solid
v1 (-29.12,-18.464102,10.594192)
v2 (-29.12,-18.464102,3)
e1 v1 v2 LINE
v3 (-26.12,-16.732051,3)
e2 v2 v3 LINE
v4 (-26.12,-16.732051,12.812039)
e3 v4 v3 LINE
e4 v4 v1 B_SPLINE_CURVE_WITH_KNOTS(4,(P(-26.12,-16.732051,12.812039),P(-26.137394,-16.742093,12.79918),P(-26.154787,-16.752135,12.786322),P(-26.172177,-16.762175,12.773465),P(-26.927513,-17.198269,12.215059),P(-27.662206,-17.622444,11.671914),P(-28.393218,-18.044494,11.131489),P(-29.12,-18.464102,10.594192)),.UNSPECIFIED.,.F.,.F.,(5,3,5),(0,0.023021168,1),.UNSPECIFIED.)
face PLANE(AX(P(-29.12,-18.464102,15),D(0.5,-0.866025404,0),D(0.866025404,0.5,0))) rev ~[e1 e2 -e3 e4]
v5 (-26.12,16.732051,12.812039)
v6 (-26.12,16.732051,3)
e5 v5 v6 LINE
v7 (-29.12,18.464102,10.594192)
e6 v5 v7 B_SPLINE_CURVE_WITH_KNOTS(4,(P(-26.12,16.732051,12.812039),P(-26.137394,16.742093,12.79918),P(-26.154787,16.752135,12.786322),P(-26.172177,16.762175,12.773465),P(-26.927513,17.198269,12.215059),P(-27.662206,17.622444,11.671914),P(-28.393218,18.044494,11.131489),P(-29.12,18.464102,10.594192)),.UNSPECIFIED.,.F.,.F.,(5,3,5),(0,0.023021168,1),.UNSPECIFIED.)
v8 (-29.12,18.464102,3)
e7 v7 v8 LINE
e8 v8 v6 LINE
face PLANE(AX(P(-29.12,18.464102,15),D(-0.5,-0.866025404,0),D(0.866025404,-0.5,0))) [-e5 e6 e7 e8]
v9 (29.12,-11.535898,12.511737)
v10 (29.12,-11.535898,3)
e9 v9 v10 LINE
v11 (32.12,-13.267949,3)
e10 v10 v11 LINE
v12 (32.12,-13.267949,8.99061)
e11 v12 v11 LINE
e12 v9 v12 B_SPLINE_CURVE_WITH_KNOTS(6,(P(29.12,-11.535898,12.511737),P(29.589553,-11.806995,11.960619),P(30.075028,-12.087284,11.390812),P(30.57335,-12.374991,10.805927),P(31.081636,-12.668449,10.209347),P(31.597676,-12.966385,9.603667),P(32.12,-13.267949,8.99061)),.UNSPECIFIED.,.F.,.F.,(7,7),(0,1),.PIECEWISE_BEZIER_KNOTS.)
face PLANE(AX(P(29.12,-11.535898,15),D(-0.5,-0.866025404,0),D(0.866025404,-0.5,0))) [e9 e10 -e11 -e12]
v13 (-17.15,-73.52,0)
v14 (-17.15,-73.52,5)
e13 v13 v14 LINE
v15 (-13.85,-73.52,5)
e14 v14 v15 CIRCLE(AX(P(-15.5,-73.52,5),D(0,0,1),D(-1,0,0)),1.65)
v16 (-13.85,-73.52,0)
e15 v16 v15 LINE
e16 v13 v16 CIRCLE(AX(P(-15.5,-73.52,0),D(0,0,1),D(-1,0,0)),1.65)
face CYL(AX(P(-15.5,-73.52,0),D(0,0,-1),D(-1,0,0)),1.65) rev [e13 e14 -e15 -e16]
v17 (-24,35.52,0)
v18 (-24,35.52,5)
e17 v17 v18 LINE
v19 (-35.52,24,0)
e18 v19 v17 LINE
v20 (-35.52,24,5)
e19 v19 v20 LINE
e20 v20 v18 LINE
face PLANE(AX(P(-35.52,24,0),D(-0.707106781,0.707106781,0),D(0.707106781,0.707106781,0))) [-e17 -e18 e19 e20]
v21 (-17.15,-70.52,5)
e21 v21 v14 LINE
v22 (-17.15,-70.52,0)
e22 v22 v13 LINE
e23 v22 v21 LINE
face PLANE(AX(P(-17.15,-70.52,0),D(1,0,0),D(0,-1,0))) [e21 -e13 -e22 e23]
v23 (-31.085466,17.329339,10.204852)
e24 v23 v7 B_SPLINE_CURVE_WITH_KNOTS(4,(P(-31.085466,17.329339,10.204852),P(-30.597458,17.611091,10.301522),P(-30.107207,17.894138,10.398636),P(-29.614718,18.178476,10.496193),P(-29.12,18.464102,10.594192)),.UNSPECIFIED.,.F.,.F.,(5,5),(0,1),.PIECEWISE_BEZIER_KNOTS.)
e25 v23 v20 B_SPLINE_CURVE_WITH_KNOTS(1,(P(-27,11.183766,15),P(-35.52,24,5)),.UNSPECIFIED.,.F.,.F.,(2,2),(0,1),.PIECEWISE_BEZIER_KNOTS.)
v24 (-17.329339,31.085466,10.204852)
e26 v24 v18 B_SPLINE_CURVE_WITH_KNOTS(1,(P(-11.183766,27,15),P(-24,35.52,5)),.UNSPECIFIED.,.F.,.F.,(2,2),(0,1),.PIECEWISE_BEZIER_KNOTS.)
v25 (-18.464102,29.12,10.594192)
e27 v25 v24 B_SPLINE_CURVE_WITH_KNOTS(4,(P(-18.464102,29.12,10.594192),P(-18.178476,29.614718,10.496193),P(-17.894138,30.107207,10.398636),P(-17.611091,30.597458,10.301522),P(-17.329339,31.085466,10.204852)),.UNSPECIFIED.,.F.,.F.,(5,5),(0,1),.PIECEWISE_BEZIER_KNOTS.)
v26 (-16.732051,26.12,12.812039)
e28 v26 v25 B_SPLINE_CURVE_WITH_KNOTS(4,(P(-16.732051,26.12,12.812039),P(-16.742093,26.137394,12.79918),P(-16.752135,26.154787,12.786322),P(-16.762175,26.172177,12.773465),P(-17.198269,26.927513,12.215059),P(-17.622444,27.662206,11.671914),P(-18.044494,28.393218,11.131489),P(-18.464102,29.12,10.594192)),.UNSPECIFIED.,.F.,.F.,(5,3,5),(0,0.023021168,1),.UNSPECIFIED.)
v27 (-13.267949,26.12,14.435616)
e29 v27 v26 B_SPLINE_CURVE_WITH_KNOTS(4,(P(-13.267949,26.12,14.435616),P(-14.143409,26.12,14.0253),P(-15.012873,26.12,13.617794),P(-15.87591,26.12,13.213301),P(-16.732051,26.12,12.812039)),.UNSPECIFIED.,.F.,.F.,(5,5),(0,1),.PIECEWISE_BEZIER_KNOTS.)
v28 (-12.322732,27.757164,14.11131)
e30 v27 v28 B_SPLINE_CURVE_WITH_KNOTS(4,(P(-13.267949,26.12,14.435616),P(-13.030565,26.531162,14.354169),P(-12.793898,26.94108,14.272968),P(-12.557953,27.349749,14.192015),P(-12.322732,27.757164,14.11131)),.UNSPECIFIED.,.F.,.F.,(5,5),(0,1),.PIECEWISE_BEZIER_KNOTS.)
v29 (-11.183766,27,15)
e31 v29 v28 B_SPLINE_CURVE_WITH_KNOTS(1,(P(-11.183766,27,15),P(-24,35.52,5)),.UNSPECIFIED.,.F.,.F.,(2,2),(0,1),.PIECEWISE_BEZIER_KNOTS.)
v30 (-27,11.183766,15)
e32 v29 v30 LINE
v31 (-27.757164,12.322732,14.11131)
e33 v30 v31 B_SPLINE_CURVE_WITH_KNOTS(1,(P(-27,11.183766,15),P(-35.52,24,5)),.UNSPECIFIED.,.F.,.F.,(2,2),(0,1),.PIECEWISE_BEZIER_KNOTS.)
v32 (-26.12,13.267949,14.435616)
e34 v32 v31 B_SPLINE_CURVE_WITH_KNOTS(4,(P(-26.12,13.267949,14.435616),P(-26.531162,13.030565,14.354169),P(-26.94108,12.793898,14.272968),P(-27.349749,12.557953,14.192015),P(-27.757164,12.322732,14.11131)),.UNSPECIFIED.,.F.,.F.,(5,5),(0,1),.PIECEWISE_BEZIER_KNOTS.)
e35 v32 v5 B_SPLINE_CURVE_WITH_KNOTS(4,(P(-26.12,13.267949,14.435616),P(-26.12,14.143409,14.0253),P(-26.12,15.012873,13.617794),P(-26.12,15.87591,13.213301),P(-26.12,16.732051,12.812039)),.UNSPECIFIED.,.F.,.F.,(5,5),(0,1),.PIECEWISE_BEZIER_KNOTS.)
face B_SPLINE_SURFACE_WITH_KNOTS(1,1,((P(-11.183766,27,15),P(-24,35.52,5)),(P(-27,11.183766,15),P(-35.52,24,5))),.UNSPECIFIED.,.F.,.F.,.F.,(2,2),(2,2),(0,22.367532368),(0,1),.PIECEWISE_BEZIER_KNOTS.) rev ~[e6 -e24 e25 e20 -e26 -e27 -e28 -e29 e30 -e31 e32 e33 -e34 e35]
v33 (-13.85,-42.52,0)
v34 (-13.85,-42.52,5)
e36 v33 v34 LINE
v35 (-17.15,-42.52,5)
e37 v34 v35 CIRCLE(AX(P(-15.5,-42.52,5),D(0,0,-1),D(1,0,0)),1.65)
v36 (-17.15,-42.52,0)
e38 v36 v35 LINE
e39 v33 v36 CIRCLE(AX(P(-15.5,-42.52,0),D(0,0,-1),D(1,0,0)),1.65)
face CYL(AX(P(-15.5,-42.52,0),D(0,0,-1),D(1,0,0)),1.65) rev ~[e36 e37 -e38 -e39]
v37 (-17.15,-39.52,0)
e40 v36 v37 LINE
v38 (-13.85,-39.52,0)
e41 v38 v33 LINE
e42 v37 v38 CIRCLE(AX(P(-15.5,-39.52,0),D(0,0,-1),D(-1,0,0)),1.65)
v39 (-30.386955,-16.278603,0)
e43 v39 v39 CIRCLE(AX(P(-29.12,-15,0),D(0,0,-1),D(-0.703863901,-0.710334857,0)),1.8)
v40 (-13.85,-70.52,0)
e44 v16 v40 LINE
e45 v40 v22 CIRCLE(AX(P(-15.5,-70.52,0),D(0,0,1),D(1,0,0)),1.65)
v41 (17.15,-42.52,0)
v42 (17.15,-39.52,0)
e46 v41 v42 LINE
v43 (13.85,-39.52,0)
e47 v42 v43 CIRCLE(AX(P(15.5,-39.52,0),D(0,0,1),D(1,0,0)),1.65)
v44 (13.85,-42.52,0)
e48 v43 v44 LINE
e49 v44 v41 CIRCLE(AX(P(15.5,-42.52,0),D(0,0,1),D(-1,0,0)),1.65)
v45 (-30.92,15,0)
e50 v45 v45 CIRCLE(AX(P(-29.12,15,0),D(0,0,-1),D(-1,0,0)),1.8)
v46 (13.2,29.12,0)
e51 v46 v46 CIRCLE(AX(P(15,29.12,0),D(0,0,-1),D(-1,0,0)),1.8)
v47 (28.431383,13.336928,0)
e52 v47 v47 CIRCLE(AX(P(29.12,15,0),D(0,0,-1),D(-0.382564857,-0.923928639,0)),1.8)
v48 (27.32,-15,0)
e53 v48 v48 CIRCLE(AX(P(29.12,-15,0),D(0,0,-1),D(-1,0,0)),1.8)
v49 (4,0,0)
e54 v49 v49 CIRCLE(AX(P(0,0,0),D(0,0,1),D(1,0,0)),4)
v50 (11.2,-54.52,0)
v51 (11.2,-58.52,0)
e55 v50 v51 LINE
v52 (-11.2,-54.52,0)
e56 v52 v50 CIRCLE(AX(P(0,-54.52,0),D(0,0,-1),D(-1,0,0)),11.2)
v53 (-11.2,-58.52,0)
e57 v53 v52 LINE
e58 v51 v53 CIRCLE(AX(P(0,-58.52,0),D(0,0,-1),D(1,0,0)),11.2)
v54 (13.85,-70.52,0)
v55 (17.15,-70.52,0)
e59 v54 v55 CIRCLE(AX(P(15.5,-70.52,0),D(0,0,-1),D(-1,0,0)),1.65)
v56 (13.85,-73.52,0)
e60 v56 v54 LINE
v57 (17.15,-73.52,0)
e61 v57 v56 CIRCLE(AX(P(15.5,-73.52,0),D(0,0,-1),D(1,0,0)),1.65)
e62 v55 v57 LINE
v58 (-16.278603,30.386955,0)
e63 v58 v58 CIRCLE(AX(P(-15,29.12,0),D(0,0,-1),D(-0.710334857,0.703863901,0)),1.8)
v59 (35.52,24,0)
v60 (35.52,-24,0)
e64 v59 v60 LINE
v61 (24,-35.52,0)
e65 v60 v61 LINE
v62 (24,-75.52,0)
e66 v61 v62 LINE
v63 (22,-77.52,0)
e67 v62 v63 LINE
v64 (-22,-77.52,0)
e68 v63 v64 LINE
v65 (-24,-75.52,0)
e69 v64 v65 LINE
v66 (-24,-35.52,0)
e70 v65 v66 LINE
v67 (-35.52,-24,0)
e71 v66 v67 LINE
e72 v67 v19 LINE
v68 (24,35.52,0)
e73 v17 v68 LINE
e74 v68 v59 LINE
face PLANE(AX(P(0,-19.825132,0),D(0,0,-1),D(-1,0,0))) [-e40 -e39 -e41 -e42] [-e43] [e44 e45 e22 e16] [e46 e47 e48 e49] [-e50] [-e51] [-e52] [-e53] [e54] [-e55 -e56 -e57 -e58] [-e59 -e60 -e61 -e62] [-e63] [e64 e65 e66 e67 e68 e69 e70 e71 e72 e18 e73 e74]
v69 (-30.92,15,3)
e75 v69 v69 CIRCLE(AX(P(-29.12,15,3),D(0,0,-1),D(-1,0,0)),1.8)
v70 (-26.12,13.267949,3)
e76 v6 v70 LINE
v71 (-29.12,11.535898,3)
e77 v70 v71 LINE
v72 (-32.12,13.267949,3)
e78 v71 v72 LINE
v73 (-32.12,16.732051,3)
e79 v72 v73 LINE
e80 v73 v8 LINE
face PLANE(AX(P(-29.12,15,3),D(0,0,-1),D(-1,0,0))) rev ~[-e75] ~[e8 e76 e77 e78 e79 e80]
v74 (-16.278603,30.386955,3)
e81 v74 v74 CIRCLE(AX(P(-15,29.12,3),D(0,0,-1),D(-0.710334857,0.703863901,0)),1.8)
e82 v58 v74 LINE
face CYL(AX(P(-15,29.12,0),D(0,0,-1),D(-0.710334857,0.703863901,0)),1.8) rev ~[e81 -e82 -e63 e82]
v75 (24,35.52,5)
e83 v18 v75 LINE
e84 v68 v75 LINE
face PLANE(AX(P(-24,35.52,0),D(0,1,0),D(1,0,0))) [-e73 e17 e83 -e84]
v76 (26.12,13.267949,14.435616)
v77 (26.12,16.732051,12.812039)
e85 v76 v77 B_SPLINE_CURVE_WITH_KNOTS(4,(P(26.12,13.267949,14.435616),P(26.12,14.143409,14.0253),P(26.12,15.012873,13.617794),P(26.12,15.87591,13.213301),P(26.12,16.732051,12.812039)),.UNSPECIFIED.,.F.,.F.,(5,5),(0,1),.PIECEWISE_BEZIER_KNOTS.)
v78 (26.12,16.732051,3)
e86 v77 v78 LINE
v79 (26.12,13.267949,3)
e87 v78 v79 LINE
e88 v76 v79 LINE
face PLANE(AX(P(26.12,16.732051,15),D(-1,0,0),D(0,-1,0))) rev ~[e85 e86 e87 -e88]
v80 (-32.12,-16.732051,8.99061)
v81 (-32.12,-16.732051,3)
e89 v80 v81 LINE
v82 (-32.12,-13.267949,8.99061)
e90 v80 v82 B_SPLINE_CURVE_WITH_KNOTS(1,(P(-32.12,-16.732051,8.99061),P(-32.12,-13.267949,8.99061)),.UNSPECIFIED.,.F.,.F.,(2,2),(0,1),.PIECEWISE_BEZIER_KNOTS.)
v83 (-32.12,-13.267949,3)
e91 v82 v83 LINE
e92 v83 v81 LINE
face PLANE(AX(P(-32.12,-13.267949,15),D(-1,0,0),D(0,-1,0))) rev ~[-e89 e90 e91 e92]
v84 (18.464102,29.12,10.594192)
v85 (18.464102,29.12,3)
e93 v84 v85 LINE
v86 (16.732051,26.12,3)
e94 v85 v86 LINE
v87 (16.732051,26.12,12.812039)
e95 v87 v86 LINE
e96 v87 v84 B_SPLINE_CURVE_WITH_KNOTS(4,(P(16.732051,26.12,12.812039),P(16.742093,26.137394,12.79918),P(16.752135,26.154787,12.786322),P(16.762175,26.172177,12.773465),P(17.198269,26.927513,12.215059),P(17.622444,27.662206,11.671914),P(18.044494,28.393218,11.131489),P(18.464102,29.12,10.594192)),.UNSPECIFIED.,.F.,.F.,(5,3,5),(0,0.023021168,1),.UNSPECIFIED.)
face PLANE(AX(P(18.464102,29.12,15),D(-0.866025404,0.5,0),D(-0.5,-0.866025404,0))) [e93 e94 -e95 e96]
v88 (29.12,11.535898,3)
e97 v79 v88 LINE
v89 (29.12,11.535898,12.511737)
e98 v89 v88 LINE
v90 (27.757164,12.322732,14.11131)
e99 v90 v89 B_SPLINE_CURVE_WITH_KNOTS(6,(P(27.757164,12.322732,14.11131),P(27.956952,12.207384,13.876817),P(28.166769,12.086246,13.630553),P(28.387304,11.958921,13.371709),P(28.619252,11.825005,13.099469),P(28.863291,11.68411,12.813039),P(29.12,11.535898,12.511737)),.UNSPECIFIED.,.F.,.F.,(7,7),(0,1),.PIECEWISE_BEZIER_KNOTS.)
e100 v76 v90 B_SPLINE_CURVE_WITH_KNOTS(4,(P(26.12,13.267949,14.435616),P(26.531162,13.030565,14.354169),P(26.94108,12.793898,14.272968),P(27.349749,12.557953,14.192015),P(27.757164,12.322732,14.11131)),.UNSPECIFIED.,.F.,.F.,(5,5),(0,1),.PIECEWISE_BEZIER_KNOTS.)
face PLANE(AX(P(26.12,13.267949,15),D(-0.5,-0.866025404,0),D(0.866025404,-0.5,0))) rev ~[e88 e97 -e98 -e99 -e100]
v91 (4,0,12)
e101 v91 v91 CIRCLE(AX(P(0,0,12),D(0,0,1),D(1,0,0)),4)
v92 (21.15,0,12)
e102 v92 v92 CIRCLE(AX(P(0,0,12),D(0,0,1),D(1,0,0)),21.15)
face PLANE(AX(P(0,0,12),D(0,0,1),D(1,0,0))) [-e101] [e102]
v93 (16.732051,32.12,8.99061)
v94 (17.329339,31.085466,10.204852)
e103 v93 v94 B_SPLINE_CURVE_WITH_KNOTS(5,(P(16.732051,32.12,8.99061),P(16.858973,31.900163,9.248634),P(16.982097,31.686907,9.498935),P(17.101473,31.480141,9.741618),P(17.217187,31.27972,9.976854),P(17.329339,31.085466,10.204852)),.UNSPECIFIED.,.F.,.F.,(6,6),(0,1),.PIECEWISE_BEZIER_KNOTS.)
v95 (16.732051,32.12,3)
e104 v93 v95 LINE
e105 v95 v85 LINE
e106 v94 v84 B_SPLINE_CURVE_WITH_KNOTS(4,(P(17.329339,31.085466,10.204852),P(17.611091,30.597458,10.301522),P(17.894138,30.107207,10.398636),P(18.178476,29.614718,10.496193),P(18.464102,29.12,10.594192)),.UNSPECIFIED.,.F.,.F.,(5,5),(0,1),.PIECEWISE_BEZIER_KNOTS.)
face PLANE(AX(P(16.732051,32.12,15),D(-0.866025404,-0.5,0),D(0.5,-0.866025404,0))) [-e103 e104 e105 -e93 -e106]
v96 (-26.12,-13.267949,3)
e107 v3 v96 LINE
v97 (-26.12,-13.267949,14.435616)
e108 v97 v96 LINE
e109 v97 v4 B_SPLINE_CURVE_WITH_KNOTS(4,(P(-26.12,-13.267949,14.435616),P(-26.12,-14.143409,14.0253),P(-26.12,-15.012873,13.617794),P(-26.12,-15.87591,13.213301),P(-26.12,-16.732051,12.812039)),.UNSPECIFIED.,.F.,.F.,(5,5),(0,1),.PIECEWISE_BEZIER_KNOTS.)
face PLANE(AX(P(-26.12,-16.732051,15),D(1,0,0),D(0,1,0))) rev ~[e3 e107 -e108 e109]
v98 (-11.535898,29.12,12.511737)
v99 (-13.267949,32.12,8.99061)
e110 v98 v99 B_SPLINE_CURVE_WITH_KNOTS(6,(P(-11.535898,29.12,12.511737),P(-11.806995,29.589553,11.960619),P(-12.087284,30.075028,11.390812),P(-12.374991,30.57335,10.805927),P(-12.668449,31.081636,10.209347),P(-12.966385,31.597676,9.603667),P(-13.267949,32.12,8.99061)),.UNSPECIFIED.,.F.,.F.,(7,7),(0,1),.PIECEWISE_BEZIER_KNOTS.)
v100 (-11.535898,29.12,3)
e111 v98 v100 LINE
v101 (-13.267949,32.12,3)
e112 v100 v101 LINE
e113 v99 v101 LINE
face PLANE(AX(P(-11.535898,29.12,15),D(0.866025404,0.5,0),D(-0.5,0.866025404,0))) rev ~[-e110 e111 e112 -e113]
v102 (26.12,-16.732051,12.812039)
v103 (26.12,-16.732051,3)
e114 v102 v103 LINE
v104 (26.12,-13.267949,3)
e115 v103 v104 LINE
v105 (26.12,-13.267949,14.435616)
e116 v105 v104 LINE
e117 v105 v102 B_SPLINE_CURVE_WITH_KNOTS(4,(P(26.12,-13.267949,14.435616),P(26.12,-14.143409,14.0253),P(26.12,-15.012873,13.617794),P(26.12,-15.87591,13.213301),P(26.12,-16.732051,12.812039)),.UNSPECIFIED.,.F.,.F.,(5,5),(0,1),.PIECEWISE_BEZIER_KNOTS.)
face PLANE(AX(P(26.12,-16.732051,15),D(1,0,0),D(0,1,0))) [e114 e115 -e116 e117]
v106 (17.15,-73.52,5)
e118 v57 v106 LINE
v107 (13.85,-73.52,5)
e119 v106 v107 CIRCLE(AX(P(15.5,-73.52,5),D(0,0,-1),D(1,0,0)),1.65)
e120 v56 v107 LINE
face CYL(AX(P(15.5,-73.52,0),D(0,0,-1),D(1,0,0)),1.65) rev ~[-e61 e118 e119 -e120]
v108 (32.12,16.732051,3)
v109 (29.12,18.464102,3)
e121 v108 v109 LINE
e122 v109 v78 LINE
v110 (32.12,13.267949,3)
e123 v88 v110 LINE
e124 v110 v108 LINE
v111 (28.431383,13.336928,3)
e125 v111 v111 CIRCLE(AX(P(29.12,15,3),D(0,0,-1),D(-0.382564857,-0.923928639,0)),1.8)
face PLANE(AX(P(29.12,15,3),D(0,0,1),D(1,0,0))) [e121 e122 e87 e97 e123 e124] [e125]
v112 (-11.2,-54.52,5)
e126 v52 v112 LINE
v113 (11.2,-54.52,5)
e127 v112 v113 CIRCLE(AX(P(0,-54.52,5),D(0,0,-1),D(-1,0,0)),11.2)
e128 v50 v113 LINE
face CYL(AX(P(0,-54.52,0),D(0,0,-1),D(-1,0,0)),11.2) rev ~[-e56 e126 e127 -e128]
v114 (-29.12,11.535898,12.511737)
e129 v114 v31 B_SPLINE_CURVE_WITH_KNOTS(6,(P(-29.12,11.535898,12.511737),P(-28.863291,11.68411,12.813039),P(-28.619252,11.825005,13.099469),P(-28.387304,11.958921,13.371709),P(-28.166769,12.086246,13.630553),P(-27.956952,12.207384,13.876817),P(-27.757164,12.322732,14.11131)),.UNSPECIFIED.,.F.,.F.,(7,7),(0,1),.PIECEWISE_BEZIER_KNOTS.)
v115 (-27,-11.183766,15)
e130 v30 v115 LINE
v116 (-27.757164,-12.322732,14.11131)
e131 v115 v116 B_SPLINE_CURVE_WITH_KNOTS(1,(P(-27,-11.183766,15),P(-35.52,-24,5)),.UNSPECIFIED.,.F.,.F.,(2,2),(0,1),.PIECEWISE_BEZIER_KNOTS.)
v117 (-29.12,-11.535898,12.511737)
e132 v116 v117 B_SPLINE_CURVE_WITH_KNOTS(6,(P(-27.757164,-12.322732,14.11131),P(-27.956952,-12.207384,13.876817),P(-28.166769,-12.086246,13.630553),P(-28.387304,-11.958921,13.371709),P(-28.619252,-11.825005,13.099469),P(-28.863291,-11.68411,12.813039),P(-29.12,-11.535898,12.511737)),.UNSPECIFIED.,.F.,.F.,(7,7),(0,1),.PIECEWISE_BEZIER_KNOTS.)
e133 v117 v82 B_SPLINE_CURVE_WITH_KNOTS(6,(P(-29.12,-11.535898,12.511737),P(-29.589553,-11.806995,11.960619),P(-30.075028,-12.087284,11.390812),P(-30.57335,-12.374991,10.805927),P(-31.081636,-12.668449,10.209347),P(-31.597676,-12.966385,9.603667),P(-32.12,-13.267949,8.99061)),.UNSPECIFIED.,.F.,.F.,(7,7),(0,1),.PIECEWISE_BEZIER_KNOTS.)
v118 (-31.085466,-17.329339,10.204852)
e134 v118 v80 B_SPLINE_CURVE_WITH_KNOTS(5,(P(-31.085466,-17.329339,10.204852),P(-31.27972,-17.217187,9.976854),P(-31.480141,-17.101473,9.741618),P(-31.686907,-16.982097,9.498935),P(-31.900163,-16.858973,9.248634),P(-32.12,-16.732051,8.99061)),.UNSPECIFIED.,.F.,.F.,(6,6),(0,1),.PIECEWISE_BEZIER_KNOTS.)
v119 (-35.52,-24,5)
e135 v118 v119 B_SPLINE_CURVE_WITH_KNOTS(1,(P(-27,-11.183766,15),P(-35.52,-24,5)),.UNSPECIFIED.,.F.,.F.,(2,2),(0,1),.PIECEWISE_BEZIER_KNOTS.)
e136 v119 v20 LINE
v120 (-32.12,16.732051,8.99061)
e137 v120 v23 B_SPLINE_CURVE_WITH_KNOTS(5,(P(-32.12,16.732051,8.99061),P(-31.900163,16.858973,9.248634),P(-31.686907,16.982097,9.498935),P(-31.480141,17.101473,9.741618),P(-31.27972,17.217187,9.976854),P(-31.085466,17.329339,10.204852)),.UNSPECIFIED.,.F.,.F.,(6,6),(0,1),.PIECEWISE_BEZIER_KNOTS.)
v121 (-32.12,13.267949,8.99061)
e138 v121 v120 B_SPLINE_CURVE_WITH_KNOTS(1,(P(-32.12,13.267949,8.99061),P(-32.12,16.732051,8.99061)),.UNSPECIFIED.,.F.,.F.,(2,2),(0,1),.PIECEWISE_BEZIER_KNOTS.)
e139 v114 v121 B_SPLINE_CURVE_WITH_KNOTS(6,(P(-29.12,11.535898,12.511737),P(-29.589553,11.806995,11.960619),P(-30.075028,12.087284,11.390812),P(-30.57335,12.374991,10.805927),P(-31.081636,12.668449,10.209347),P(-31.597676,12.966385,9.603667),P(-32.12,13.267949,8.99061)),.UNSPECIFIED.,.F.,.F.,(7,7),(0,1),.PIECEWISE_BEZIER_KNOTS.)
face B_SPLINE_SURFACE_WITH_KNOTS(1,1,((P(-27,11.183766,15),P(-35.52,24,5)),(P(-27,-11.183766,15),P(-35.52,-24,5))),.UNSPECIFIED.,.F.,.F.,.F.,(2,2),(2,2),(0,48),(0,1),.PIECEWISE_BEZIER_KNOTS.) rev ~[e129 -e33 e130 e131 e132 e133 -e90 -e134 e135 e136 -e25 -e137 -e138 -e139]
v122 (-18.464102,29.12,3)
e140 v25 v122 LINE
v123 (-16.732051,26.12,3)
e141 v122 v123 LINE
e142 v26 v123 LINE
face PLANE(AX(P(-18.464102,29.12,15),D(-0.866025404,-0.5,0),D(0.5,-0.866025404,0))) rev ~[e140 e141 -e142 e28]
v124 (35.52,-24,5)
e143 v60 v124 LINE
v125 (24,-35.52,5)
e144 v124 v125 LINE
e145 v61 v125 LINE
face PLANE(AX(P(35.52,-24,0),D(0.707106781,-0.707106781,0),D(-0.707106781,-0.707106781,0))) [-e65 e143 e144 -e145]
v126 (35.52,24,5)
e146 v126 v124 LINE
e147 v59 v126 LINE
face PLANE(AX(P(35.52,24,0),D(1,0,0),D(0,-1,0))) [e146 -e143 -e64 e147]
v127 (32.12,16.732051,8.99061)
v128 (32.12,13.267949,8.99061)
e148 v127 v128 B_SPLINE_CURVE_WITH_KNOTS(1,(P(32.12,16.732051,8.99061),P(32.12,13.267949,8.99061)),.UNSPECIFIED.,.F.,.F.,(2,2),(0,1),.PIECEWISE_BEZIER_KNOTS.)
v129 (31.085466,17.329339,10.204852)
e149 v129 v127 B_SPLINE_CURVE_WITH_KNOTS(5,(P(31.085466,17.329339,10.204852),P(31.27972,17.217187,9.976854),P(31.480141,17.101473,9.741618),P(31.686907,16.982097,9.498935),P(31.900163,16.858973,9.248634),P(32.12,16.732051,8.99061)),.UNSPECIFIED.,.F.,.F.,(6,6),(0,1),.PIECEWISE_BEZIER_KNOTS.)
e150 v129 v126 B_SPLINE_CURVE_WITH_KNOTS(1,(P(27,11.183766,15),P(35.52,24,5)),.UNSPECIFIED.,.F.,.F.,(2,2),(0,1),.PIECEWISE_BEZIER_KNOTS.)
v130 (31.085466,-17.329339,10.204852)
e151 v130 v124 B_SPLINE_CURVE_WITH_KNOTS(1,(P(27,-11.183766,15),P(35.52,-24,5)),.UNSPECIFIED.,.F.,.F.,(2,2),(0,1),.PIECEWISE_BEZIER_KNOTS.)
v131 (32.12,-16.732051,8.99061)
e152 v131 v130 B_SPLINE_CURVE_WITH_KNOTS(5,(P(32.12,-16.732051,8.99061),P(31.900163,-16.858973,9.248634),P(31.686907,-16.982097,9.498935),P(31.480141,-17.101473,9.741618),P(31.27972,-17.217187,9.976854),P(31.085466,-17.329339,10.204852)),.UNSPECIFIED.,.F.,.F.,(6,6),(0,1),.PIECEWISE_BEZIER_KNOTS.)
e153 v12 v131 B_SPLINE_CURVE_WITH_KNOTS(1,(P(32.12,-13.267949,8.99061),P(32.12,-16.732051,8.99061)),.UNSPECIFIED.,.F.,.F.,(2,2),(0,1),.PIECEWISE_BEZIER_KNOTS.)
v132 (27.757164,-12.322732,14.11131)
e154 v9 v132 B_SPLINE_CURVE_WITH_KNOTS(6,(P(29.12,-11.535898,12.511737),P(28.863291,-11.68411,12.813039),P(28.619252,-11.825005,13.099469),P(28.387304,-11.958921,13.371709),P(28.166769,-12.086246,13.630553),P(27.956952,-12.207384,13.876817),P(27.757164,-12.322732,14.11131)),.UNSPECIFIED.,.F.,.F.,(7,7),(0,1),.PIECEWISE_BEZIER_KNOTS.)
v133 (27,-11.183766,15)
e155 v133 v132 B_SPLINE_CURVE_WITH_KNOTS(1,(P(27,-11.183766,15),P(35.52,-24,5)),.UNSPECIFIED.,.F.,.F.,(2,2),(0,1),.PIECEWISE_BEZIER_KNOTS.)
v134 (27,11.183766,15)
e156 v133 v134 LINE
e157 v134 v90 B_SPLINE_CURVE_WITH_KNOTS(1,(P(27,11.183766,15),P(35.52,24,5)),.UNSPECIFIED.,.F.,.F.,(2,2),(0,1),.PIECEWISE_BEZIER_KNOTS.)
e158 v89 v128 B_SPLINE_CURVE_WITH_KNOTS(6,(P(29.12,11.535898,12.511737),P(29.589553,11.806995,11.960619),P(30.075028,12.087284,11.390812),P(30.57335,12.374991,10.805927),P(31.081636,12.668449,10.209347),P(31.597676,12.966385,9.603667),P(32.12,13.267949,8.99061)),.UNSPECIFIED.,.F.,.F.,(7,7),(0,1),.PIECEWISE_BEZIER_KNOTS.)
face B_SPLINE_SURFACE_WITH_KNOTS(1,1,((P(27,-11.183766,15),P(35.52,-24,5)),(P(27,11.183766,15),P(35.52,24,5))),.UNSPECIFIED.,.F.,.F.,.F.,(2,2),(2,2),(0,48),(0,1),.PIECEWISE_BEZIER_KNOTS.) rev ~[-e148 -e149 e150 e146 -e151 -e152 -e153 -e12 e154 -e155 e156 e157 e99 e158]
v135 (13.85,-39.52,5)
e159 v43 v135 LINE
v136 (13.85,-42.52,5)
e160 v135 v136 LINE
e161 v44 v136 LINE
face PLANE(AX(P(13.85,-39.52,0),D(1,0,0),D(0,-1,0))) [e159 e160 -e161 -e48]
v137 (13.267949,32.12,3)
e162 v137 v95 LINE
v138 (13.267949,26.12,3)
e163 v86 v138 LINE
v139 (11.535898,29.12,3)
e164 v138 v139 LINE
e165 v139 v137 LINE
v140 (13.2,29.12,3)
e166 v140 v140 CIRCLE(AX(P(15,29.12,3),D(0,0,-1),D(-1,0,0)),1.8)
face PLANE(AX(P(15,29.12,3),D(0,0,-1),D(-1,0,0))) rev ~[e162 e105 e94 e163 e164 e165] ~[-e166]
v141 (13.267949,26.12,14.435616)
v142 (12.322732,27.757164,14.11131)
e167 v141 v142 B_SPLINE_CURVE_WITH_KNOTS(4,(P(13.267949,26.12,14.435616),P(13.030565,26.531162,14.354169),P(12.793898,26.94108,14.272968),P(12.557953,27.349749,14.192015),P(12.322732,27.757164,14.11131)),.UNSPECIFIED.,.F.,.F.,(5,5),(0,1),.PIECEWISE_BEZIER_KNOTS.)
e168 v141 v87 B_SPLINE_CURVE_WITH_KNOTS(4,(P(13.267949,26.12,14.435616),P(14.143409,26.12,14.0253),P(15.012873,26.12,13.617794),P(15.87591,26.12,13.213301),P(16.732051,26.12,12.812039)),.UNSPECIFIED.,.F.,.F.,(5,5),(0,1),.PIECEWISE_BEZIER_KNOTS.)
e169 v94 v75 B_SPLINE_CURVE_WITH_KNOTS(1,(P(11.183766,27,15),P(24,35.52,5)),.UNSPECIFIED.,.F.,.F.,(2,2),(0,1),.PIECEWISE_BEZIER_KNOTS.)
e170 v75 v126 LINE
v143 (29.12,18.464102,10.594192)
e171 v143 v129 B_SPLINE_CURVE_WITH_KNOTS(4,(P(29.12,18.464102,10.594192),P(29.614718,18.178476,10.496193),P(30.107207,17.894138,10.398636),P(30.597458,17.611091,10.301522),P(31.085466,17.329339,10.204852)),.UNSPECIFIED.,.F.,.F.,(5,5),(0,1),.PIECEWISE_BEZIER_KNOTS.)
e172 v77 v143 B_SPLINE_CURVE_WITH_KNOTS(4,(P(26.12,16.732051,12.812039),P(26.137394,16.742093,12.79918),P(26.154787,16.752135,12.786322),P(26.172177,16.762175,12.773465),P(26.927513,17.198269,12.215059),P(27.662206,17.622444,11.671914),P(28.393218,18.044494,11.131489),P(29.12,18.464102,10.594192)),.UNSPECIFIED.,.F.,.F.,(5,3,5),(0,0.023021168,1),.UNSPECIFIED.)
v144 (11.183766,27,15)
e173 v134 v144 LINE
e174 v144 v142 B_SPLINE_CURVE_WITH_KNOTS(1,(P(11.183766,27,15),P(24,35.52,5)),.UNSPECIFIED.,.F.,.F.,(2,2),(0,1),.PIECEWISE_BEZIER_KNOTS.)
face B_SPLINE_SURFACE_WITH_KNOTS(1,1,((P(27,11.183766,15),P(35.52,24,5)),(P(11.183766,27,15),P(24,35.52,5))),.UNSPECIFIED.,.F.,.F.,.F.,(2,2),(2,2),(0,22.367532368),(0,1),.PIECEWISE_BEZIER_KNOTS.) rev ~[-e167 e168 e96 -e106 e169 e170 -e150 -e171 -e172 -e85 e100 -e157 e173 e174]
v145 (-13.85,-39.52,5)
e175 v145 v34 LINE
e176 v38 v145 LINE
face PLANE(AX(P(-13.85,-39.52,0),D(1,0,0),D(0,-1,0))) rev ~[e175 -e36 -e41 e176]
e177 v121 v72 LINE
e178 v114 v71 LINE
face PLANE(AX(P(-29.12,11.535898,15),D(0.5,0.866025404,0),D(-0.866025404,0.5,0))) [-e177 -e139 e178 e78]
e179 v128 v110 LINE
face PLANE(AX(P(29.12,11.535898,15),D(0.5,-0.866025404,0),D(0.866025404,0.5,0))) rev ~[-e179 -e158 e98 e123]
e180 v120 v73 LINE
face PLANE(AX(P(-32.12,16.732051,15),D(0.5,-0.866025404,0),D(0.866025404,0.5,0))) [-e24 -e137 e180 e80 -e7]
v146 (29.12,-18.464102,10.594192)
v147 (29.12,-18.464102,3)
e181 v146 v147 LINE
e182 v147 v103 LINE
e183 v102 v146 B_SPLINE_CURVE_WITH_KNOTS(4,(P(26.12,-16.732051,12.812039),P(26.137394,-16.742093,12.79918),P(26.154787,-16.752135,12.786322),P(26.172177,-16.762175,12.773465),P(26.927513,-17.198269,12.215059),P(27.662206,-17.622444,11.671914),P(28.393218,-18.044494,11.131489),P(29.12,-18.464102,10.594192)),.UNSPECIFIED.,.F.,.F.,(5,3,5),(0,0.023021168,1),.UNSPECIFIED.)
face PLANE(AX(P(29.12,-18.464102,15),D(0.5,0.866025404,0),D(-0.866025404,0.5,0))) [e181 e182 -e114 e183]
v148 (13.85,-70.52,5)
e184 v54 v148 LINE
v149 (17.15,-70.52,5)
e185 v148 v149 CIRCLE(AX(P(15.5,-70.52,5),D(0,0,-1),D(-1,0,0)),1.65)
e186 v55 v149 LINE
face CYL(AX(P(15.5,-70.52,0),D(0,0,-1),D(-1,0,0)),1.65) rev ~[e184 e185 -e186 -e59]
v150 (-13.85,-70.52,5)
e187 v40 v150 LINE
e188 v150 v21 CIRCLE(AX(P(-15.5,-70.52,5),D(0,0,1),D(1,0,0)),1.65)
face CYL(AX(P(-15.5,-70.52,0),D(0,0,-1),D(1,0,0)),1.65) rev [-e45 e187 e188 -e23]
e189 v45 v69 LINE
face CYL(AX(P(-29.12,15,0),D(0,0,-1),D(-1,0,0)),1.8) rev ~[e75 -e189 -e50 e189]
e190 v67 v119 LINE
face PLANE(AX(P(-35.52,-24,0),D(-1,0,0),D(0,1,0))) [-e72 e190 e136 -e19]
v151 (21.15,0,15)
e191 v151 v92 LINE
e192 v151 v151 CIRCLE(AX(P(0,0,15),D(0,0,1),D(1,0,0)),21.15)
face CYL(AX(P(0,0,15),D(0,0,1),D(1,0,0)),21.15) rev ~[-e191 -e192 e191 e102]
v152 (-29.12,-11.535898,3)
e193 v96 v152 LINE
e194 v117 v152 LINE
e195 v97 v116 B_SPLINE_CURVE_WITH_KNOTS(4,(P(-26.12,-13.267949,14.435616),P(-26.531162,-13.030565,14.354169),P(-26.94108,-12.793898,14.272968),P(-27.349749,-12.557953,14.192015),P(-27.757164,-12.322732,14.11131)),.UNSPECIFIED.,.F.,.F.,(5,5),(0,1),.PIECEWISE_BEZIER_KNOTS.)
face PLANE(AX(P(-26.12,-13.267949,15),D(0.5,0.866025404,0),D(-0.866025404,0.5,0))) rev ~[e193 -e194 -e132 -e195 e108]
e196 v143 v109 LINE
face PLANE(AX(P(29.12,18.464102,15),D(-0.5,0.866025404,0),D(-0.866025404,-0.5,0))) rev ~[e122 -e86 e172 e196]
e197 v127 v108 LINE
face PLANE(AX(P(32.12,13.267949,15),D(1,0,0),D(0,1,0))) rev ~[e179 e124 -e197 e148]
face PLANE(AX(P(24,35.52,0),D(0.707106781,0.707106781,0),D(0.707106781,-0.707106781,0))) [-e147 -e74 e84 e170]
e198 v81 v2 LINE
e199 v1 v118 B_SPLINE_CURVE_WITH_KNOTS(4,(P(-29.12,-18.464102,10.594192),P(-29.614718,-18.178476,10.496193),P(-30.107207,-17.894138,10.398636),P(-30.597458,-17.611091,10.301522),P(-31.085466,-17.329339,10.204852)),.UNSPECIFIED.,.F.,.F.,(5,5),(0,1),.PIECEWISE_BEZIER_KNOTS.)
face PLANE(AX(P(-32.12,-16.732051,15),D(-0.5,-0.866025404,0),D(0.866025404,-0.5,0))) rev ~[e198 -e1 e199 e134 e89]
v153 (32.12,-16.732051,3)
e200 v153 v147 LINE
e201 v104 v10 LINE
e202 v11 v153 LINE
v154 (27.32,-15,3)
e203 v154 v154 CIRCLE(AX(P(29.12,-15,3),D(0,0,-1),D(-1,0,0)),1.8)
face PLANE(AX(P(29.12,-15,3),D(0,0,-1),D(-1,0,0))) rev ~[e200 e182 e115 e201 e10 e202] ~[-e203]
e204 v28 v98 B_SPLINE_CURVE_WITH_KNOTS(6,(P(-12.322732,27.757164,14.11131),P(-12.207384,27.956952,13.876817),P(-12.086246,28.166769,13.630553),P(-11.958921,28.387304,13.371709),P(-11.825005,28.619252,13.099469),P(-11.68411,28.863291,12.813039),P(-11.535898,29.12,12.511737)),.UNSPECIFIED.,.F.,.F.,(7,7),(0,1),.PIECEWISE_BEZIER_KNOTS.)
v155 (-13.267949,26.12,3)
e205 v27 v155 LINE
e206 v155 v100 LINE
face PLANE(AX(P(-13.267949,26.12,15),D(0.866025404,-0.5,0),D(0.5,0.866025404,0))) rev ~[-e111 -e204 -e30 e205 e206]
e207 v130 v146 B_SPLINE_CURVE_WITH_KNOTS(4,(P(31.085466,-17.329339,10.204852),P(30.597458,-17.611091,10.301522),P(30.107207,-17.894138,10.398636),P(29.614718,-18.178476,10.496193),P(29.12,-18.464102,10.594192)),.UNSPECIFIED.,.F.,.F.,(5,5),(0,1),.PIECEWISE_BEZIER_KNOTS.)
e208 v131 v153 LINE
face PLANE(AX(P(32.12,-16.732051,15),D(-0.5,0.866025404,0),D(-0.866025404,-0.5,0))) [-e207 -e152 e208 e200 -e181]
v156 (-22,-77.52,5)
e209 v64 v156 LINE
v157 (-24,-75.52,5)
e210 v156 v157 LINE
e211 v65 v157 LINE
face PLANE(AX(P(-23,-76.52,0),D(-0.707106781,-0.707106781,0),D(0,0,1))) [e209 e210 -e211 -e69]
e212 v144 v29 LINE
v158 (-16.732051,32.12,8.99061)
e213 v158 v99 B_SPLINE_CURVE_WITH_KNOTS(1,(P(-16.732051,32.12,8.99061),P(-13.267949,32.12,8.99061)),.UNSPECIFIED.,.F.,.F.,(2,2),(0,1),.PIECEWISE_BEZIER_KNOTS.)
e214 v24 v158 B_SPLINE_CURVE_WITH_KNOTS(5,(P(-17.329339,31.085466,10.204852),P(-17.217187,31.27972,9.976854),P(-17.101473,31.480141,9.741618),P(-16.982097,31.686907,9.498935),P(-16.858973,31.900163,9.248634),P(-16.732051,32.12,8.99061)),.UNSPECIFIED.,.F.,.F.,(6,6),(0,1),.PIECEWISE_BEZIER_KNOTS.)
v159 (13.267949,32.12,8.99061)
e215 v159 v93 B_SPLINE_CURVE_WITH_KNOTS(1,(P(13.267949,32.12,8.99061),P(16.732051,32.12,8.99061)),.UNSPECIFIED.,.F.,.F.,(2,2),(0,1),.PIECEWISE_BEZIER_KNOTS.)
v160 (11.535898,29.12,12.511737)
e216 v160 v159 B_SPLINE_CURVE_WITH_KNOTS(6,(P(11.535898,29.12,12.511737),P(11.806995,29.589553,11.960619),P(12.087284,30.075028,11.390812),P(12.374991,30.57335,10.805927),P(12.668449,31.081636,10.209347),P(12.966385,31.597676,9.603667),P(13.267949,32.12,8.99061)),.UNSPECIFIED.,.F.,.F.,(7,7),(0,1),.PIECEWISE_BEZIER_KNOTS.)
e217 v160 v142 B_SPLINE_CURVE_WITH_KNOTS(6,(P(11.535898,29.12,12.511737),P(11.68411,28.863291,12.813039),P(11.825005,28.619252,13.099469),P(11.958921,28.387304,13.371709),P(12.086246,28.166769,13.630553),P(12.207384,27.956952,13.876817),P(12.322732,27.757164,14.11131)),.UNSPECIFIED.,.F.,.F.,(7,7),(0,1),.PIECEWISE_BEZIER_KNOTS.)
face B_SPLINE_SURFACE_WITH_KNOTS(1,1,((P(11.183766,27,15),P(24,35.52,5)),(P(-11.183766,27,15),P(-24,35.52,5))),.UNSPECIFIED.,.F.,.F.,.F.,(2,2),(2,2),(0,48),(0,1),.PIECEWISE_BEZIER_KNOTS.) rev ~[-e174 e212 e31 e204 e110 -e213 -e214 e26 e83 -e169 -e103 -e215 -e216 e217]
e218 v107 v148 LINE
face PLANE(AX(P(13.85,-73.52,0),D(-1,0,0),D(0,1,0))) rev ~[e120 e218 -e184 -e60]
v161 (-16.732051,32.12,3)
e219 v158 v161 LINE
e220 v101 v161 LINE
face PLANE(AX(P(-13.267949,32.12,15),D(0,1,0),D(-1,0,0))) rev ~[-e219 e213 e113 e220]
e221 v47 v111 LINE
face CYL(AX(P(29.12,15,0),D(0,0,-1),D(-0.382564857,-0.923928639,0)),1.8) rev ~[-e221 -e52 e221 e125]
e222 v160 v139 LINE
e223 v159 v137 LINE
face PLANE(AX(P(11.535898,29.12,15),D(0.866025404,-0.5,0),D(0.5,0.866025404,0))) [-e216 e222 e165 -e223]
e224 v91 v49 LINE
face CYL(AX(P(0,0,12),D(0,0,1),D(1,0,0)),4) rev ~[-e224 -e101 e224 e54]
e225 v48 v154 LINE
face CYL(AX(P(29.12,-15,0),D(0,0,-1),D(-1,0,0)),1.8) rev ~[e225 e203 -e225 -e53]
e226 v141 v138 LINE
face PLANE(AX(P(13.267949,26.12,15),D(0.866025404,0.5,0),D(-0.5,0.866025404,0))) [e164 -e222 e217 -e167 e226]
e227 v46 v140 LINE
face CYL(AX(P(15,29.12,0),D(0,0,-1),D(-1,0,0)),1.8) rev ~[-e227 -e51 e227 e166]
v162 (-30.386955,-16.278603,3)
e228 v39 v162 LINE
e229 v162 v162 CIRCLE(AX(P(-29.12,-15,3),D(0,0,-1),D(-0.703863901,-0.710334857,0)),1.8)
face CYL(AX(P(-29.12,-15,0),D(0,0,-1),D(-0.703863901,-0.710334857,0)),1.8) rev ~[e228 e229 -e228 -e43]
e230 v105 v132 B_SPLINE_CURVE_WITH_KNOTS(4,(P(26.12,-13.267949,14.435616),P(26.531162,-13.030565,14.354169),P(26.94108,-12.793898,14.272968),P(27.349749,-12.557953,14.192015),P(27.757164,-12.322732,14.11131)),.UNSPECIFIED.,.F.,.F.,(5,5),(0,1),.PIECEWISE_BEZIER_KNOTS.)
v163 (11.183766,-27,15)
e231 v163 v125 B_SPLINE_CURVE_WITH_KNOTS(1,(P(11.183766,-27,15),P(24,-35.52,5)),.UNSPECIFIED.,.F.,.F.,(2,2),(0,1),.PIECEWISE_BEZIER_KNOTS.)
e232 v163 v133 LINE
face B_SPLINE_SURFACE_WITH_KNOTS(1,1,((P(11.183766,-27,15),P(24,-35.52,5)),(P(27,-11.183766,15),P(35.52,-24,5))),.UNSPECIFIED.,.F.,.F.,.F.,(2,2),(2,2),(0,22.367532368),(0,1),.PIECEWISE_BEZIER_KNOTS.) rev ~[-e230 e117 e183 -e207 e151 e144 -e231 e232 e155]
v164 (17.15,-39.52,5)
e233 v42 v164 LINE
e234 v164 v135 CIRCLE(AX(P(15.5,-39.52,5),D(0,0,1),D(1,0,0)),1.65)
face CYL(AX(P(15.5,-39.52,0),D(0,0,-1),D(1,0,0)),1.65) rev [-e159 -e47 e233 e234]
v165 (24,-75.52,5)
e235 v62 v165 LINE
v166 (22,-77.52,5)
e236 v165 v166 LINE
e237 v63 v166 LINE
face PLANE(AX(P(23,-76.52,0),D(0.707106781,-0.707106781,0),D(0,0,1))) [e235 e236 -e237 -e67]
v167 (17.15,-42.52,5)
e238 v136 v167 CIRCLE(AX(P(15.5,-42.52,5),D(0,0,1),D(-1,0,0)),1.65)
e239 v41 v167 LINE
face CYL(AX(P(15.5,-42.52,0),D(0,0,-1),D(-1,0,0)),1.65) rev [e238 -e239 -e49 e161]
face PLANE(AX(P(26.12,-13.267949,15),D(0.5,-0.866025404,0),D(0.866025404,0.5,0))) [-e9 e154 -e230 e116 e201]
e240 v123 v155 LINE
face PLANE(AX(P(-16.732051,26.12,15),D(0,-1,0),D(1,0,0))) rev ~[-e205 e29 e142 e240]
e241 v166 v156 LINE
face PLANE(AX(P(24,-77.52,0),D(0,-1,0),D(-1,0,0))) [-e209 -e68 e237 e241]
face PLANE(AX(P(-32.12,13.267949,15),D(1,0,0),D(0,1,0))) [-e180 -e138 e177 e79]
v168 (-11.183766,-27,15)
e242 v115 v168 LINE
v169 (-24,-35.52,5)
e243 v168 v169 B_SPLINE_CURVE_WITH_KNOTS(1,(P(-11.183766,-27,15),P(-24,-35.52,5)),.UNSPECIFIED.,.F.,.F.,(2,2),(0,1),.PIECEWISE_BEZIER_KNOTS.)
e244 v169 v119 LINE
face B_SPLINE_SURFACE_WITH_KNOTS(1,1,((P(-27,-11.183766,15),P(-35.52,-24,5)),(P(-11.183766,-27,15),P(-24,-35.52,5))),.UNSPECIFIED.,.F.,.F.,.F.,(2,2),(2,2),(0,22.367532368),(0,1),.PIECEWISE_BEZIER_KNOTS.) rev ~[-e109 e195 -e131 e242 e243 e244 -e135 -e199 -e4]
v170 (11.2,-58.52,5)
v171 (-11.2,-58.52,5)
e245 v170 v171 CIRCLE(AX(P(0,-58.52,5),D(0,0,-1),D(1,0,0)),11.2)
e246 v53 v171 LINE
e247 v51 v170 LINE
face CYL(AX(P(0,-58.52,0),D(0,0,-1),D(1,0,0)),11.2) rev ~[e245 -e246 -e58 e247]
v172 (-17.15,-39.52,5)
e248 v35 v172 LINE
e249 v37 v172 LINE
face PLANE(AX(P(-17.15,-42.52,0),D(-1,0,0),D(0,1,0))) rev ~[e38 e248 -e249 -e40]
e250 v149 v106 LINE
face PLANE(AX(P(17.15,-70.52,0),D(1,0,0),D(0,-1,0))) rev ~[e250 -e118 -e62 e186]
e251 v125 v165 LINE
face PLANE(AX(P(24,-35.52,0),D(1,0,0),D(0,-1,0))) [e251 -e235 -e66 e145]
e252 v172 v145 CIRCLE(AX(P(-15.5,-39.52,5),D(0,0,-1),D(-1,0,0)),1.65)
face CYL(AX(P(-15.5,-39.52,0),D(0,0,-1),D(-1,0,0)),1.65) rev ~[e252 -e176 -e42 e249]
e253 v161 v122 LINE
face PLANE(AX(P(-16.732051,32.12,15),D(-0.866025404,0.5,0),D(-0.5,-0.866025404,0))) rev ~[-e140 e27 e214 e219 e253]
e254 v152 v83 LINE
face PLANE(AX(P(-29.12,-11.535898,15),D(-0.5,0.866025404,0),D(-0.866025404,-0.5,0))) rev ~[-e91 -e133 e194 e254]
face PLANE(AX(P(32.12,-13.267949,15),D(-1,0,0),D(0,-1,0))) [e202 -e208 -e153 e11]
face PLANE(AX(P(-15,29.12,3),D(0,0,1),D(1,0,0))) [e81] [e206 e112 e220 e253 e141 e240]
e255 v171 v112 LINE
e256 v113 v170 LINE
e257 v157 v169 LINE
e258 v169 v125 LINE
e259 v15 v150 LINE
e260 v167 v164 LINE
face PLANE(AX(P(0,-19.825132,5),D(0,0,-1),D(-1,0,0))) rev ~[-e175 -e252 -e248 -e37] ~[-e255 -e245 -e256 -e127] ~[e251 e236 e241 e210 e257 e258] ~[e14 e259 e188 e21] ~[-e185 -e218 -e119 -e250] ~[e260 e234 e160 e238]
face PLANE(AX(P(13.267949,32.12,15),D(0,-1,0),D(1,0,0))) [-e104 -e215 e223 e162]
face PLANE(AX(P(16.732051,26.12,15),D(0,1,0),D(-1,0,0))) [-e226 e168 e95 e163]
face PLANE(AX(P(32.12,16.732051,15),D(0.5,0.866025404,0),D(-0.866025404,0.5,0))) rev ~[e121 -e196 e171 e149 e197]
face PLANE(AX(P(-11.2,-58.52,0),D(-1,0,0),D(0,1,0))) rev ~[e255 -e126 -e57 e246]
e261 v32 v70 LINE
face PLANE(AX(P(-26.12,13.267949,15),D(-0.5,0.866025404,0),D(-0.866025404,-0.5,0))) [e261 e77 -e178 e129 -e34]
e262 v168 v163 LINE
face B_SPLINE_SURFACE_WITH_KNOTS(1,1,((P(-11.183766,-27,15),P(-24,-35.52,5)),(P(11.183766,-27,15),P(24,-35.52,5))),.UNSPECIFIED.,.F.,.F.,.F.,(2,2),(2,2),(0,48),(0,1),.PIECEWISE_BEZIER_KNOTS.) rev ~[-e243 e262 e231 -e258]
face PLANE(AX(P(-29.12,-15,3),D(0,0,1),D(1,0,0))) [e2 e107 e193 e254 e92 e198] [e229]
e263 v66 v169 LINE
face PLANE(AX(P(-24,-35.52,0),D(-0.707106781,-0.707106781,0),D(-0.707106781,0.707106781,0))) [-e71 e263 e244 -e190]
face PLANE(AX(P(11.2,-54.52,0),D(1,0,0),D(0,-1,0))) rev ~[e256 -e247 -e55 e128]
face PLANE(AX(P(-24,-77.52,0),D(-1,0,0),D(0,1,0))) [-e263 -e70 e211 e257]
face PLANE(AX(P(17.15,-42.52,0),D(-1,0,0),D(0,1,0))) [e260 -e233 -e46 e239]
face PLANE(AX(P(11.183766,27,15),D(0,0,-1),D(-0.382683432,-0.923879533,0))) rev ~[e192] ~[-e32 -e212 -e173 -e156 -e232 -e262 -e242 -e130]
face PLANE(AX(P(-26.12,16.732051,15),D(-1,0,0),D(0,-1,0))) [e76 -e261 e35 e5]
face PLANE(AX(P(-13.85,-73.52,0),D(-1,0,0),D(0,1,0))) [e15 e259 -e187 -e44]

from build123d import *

# Parameters (mm, degrees)
EXTRUDE_1_DEPTH     = 5
SKETCH_5_R          = 21.15
CUT_EXTRUDE_1_DEPTH = 3
SKETCH_6_R          = 4
CUT_EXTRUDE_2_DEPTH = 37
SKETCH_7_R          = 1.8
CUT_EXTRUDE_3_DEPTH = 37
CUT_EXTRUDE_4_DEPTH = 12
CHAMFER_1_SIZE      = 2


with BuildPart() as part:
    # 草图1 → 凸台-拉伸1 (new body)
    with BuildSketch(Plane.XY):
        Polygon((24, 35.52), (35.52, 24), (35.52, -24), (24, -35.52), (24, -77.52), (-24, -77.52), (-24, -35.52), (-35.52, -24), (-35.52, 24), (-24, 35.52), align=None)
        with BuildLine():
            Line((11.2, -54.52), (11.2, -58.52))
            ThreePointArc((11.2, -58.52), (0, -69.72), (-11.2, -58.52))
            Line((-11.2, -58.52), (-11.2, -54.52))
            ThreePointArc((-11.2, -54.52), (0, -43.32), (11.2, -54.52))
        make_face(mode=Mode.SUBTRACT)
        with BuildLine():
            Line((-17.15, -42.52), (-17.15, -39.52))
            ThreePointArc((-17.15, -39.52), (-15.5, -37.87), (-13.85, -39.52))
            Line((-13.85, -39.52), (-13.85, -42.52))
            ThreePointArc((-13.85, -42.52), (-15.5, -44.17), (-17.15, -42.52))
        make_face(mode=Mode.SUBTRACT)
        with BuildLine():
            Line((17.15, -42.52), (17.15, -39.52))
            ThreePointArc((17.15, -39.52), (15.5, -37.87), (13.85, -39.52))
            Line((13.85, -39.52), (13.85, -42.52))
            ThreePointArc((13.85, -42.52), (15.5, -44.17), (17.15, -42.52))
        make_face(mode=Mode.SUBTRACT)
        with BuildLine():
            Line((17.15, -70.52), (17.15, -73.52))
            ThreePointArc((17.15, -73.52), (15.5, -75.17), (13.85, -73.52))
            Line((13.85, -73.52), (13.85, -70.52))
            ThreePointArc((13.85, -70.52), (15.5, -68.87), (17.15, -70.52))
        make_face(mode=Mode.SUBTRACT)
        with BuildLine():
            Line((-17.15, -70.52), (-17.15, -73.52))
            ThreePointArc((-17.15, -73.52), (-15.5, -75.17), (-13.85, -73.52))
            Line((-13.85, -73.52), (-13.85, -70.52))
            ThreePointArc((-13.85, -70.52), (-15.5, -68.87), (-17.15, -70.52))
        make_face(mode=Mode.SUBTRACT)
    extrude(amount=EXTRUDE_1_DEPTH)

    # 草图3 → 放样1 section 0
    with BuildSketch(Plane.XY.offset(15)):
        with BuildLine():
            Line((11.183766184, 27), (-11.183766184, 27))
            Line((-11.183766184, 27), (-27, 11.183766184))
            Line((-27, 11.183766184), (-27, -11.183766184))
            Line((-27, -11.183766184), (-11.183766184, -27))
            Line((-11.183766184, -27), (11.183766184, -27))
            Line((11.183766184, -27), (27, -11.183766184))
            Line((27, -11.183766184), (27, 11.183766184))
            Line((27, 11.183766184), (11.183766184, 27))
        make_face()
    # 草图4 → 放样1 section 1
    with BuildSketch(Plane.XY.offset(5)):
        with BuildLine():
            Line((-24, -35.52), (24, -35.52))
            Line((24, -35.52), (35.52, -24))
            Line((35.52, -24), (35.52, 24))
            Line((35.52, 24), (24, 35.52))
            Line((24, 35.52), (-24, 35.52))
            Line((-24, 35.52), (-35.52, 24))
            Line((-35.52, 24), (-35.52, -24))
            Line((-35.52, -24), (-24, -35.52))
        make_face()
    loft()

    # 草图5 → 切除-拉伸1 (cut)
    with BuildSketch(Plane.XY.offset(15)):
        Circle(SKETCH_5_R)
    extrude(amount=-CUT_EXTRUDE_1_DEPTH, mode=Mode.SUBTRACT)

    # 草图6 → 切除-拉伸2 (cut)
    with BuildSketch(Plane.XY.offset(12)):
        Circle(SKETCH_6_R)
    extrude(amount=-CUT_EXTRUDE_2_DEPTH, mode=Mode.SUBTRACT)

    # 草图7 → 切除-拉伸3 (cut)
    with BuildSketch(Plane(origin=(0, 0, 0), x_dir=(-1, 0, 0), z_dir=(0, 0, -1))):
        with Locations((29.12, 15)):
            Circle(SKETCH_7_R)
        with Locations(Location((29.12, -15, 0), (0, 0, 314.737833249))):
            Circle(SKETCH_7_R)
        with Locations((-29.12, -15)):
            Circle(SKETCH_7_R)
        with Locations(Location((-29.12, 15, 0), (0, 0, 292.492646576))):
            Circle(SKETCH_7_R)
        with Locations((-15, 29.12)):
            Circle(SKETCH_7_R)
        with Locations(Location((15, 29.12, 0), (0, 0, 44.737833249))):
            Circle(SKETCH_7_R)
    extrude(amount=-CUT_EXTRUDE_3_DEPTH, mode=Mode.SUBTRACT)

    # 草图8 → 切除-拉伸4 (cut)
    with BuildSketch(Plane.XY.offset(15)):
        Polygon((-29.12, -11.535898385), (-32.12, -13.267949192), (-32.12, -16.732050808), (-29.12, -18.464101615), (-26.12, -16.732050808), (-26.12, -13.267949192), align=None)
        Polygon((-26.12, 13.267949192), (-29.12, 11.535898385), (-32.12, 13.267949192), (-32.12, 16.732050808), (-29.12, 18.464101615), (-26.12, 16.732050808), align=None)
        Polygon((13.267949192, 26.12), (11.535898385, 29.12), (13.267949192, 32.12), (16.732050808, 32.12), (18.464101615, 29.12), (16.732050808, 26.12), align=None)
        Polygon((-11.535898385, 29.12), (-13.267949192, 32.12), (-16.732050808, 32.12), (-18.464101615, 29.12), (-16.732050808, 26.12), (-13.267949192, 26.12), align=None)
        Polygon((26.12, -13.267949192), (29.12, -11.535898385), (32.12, -13.267949192), (32.12, -16.732050808), (29.12, -18.464101615), (26.12, -16.732050808), align=None)
        Polygon((29.12, 11.535898385), (32.12, 13.267949192), (32.12, 16.732050808), (29.12, 18.464101615), (26.12, 16.732050808), (26.12, 13.267949192), align=None)
    extrude(amount=-CUT_EXTRUDE_4_DEPTH, mode=Mode.SUBTRACT)

    # 倒角1
    chamfer_1_edges = [part.edges().sort_by_distance(p)[0] for p in [
        (24, -77.52, 2.5),
        (-24, -77.52, 2.5),
    ]]
    chamfer(chamfer_1_edges, length=CHAMFER_1_SIZE)


solid = part.part
